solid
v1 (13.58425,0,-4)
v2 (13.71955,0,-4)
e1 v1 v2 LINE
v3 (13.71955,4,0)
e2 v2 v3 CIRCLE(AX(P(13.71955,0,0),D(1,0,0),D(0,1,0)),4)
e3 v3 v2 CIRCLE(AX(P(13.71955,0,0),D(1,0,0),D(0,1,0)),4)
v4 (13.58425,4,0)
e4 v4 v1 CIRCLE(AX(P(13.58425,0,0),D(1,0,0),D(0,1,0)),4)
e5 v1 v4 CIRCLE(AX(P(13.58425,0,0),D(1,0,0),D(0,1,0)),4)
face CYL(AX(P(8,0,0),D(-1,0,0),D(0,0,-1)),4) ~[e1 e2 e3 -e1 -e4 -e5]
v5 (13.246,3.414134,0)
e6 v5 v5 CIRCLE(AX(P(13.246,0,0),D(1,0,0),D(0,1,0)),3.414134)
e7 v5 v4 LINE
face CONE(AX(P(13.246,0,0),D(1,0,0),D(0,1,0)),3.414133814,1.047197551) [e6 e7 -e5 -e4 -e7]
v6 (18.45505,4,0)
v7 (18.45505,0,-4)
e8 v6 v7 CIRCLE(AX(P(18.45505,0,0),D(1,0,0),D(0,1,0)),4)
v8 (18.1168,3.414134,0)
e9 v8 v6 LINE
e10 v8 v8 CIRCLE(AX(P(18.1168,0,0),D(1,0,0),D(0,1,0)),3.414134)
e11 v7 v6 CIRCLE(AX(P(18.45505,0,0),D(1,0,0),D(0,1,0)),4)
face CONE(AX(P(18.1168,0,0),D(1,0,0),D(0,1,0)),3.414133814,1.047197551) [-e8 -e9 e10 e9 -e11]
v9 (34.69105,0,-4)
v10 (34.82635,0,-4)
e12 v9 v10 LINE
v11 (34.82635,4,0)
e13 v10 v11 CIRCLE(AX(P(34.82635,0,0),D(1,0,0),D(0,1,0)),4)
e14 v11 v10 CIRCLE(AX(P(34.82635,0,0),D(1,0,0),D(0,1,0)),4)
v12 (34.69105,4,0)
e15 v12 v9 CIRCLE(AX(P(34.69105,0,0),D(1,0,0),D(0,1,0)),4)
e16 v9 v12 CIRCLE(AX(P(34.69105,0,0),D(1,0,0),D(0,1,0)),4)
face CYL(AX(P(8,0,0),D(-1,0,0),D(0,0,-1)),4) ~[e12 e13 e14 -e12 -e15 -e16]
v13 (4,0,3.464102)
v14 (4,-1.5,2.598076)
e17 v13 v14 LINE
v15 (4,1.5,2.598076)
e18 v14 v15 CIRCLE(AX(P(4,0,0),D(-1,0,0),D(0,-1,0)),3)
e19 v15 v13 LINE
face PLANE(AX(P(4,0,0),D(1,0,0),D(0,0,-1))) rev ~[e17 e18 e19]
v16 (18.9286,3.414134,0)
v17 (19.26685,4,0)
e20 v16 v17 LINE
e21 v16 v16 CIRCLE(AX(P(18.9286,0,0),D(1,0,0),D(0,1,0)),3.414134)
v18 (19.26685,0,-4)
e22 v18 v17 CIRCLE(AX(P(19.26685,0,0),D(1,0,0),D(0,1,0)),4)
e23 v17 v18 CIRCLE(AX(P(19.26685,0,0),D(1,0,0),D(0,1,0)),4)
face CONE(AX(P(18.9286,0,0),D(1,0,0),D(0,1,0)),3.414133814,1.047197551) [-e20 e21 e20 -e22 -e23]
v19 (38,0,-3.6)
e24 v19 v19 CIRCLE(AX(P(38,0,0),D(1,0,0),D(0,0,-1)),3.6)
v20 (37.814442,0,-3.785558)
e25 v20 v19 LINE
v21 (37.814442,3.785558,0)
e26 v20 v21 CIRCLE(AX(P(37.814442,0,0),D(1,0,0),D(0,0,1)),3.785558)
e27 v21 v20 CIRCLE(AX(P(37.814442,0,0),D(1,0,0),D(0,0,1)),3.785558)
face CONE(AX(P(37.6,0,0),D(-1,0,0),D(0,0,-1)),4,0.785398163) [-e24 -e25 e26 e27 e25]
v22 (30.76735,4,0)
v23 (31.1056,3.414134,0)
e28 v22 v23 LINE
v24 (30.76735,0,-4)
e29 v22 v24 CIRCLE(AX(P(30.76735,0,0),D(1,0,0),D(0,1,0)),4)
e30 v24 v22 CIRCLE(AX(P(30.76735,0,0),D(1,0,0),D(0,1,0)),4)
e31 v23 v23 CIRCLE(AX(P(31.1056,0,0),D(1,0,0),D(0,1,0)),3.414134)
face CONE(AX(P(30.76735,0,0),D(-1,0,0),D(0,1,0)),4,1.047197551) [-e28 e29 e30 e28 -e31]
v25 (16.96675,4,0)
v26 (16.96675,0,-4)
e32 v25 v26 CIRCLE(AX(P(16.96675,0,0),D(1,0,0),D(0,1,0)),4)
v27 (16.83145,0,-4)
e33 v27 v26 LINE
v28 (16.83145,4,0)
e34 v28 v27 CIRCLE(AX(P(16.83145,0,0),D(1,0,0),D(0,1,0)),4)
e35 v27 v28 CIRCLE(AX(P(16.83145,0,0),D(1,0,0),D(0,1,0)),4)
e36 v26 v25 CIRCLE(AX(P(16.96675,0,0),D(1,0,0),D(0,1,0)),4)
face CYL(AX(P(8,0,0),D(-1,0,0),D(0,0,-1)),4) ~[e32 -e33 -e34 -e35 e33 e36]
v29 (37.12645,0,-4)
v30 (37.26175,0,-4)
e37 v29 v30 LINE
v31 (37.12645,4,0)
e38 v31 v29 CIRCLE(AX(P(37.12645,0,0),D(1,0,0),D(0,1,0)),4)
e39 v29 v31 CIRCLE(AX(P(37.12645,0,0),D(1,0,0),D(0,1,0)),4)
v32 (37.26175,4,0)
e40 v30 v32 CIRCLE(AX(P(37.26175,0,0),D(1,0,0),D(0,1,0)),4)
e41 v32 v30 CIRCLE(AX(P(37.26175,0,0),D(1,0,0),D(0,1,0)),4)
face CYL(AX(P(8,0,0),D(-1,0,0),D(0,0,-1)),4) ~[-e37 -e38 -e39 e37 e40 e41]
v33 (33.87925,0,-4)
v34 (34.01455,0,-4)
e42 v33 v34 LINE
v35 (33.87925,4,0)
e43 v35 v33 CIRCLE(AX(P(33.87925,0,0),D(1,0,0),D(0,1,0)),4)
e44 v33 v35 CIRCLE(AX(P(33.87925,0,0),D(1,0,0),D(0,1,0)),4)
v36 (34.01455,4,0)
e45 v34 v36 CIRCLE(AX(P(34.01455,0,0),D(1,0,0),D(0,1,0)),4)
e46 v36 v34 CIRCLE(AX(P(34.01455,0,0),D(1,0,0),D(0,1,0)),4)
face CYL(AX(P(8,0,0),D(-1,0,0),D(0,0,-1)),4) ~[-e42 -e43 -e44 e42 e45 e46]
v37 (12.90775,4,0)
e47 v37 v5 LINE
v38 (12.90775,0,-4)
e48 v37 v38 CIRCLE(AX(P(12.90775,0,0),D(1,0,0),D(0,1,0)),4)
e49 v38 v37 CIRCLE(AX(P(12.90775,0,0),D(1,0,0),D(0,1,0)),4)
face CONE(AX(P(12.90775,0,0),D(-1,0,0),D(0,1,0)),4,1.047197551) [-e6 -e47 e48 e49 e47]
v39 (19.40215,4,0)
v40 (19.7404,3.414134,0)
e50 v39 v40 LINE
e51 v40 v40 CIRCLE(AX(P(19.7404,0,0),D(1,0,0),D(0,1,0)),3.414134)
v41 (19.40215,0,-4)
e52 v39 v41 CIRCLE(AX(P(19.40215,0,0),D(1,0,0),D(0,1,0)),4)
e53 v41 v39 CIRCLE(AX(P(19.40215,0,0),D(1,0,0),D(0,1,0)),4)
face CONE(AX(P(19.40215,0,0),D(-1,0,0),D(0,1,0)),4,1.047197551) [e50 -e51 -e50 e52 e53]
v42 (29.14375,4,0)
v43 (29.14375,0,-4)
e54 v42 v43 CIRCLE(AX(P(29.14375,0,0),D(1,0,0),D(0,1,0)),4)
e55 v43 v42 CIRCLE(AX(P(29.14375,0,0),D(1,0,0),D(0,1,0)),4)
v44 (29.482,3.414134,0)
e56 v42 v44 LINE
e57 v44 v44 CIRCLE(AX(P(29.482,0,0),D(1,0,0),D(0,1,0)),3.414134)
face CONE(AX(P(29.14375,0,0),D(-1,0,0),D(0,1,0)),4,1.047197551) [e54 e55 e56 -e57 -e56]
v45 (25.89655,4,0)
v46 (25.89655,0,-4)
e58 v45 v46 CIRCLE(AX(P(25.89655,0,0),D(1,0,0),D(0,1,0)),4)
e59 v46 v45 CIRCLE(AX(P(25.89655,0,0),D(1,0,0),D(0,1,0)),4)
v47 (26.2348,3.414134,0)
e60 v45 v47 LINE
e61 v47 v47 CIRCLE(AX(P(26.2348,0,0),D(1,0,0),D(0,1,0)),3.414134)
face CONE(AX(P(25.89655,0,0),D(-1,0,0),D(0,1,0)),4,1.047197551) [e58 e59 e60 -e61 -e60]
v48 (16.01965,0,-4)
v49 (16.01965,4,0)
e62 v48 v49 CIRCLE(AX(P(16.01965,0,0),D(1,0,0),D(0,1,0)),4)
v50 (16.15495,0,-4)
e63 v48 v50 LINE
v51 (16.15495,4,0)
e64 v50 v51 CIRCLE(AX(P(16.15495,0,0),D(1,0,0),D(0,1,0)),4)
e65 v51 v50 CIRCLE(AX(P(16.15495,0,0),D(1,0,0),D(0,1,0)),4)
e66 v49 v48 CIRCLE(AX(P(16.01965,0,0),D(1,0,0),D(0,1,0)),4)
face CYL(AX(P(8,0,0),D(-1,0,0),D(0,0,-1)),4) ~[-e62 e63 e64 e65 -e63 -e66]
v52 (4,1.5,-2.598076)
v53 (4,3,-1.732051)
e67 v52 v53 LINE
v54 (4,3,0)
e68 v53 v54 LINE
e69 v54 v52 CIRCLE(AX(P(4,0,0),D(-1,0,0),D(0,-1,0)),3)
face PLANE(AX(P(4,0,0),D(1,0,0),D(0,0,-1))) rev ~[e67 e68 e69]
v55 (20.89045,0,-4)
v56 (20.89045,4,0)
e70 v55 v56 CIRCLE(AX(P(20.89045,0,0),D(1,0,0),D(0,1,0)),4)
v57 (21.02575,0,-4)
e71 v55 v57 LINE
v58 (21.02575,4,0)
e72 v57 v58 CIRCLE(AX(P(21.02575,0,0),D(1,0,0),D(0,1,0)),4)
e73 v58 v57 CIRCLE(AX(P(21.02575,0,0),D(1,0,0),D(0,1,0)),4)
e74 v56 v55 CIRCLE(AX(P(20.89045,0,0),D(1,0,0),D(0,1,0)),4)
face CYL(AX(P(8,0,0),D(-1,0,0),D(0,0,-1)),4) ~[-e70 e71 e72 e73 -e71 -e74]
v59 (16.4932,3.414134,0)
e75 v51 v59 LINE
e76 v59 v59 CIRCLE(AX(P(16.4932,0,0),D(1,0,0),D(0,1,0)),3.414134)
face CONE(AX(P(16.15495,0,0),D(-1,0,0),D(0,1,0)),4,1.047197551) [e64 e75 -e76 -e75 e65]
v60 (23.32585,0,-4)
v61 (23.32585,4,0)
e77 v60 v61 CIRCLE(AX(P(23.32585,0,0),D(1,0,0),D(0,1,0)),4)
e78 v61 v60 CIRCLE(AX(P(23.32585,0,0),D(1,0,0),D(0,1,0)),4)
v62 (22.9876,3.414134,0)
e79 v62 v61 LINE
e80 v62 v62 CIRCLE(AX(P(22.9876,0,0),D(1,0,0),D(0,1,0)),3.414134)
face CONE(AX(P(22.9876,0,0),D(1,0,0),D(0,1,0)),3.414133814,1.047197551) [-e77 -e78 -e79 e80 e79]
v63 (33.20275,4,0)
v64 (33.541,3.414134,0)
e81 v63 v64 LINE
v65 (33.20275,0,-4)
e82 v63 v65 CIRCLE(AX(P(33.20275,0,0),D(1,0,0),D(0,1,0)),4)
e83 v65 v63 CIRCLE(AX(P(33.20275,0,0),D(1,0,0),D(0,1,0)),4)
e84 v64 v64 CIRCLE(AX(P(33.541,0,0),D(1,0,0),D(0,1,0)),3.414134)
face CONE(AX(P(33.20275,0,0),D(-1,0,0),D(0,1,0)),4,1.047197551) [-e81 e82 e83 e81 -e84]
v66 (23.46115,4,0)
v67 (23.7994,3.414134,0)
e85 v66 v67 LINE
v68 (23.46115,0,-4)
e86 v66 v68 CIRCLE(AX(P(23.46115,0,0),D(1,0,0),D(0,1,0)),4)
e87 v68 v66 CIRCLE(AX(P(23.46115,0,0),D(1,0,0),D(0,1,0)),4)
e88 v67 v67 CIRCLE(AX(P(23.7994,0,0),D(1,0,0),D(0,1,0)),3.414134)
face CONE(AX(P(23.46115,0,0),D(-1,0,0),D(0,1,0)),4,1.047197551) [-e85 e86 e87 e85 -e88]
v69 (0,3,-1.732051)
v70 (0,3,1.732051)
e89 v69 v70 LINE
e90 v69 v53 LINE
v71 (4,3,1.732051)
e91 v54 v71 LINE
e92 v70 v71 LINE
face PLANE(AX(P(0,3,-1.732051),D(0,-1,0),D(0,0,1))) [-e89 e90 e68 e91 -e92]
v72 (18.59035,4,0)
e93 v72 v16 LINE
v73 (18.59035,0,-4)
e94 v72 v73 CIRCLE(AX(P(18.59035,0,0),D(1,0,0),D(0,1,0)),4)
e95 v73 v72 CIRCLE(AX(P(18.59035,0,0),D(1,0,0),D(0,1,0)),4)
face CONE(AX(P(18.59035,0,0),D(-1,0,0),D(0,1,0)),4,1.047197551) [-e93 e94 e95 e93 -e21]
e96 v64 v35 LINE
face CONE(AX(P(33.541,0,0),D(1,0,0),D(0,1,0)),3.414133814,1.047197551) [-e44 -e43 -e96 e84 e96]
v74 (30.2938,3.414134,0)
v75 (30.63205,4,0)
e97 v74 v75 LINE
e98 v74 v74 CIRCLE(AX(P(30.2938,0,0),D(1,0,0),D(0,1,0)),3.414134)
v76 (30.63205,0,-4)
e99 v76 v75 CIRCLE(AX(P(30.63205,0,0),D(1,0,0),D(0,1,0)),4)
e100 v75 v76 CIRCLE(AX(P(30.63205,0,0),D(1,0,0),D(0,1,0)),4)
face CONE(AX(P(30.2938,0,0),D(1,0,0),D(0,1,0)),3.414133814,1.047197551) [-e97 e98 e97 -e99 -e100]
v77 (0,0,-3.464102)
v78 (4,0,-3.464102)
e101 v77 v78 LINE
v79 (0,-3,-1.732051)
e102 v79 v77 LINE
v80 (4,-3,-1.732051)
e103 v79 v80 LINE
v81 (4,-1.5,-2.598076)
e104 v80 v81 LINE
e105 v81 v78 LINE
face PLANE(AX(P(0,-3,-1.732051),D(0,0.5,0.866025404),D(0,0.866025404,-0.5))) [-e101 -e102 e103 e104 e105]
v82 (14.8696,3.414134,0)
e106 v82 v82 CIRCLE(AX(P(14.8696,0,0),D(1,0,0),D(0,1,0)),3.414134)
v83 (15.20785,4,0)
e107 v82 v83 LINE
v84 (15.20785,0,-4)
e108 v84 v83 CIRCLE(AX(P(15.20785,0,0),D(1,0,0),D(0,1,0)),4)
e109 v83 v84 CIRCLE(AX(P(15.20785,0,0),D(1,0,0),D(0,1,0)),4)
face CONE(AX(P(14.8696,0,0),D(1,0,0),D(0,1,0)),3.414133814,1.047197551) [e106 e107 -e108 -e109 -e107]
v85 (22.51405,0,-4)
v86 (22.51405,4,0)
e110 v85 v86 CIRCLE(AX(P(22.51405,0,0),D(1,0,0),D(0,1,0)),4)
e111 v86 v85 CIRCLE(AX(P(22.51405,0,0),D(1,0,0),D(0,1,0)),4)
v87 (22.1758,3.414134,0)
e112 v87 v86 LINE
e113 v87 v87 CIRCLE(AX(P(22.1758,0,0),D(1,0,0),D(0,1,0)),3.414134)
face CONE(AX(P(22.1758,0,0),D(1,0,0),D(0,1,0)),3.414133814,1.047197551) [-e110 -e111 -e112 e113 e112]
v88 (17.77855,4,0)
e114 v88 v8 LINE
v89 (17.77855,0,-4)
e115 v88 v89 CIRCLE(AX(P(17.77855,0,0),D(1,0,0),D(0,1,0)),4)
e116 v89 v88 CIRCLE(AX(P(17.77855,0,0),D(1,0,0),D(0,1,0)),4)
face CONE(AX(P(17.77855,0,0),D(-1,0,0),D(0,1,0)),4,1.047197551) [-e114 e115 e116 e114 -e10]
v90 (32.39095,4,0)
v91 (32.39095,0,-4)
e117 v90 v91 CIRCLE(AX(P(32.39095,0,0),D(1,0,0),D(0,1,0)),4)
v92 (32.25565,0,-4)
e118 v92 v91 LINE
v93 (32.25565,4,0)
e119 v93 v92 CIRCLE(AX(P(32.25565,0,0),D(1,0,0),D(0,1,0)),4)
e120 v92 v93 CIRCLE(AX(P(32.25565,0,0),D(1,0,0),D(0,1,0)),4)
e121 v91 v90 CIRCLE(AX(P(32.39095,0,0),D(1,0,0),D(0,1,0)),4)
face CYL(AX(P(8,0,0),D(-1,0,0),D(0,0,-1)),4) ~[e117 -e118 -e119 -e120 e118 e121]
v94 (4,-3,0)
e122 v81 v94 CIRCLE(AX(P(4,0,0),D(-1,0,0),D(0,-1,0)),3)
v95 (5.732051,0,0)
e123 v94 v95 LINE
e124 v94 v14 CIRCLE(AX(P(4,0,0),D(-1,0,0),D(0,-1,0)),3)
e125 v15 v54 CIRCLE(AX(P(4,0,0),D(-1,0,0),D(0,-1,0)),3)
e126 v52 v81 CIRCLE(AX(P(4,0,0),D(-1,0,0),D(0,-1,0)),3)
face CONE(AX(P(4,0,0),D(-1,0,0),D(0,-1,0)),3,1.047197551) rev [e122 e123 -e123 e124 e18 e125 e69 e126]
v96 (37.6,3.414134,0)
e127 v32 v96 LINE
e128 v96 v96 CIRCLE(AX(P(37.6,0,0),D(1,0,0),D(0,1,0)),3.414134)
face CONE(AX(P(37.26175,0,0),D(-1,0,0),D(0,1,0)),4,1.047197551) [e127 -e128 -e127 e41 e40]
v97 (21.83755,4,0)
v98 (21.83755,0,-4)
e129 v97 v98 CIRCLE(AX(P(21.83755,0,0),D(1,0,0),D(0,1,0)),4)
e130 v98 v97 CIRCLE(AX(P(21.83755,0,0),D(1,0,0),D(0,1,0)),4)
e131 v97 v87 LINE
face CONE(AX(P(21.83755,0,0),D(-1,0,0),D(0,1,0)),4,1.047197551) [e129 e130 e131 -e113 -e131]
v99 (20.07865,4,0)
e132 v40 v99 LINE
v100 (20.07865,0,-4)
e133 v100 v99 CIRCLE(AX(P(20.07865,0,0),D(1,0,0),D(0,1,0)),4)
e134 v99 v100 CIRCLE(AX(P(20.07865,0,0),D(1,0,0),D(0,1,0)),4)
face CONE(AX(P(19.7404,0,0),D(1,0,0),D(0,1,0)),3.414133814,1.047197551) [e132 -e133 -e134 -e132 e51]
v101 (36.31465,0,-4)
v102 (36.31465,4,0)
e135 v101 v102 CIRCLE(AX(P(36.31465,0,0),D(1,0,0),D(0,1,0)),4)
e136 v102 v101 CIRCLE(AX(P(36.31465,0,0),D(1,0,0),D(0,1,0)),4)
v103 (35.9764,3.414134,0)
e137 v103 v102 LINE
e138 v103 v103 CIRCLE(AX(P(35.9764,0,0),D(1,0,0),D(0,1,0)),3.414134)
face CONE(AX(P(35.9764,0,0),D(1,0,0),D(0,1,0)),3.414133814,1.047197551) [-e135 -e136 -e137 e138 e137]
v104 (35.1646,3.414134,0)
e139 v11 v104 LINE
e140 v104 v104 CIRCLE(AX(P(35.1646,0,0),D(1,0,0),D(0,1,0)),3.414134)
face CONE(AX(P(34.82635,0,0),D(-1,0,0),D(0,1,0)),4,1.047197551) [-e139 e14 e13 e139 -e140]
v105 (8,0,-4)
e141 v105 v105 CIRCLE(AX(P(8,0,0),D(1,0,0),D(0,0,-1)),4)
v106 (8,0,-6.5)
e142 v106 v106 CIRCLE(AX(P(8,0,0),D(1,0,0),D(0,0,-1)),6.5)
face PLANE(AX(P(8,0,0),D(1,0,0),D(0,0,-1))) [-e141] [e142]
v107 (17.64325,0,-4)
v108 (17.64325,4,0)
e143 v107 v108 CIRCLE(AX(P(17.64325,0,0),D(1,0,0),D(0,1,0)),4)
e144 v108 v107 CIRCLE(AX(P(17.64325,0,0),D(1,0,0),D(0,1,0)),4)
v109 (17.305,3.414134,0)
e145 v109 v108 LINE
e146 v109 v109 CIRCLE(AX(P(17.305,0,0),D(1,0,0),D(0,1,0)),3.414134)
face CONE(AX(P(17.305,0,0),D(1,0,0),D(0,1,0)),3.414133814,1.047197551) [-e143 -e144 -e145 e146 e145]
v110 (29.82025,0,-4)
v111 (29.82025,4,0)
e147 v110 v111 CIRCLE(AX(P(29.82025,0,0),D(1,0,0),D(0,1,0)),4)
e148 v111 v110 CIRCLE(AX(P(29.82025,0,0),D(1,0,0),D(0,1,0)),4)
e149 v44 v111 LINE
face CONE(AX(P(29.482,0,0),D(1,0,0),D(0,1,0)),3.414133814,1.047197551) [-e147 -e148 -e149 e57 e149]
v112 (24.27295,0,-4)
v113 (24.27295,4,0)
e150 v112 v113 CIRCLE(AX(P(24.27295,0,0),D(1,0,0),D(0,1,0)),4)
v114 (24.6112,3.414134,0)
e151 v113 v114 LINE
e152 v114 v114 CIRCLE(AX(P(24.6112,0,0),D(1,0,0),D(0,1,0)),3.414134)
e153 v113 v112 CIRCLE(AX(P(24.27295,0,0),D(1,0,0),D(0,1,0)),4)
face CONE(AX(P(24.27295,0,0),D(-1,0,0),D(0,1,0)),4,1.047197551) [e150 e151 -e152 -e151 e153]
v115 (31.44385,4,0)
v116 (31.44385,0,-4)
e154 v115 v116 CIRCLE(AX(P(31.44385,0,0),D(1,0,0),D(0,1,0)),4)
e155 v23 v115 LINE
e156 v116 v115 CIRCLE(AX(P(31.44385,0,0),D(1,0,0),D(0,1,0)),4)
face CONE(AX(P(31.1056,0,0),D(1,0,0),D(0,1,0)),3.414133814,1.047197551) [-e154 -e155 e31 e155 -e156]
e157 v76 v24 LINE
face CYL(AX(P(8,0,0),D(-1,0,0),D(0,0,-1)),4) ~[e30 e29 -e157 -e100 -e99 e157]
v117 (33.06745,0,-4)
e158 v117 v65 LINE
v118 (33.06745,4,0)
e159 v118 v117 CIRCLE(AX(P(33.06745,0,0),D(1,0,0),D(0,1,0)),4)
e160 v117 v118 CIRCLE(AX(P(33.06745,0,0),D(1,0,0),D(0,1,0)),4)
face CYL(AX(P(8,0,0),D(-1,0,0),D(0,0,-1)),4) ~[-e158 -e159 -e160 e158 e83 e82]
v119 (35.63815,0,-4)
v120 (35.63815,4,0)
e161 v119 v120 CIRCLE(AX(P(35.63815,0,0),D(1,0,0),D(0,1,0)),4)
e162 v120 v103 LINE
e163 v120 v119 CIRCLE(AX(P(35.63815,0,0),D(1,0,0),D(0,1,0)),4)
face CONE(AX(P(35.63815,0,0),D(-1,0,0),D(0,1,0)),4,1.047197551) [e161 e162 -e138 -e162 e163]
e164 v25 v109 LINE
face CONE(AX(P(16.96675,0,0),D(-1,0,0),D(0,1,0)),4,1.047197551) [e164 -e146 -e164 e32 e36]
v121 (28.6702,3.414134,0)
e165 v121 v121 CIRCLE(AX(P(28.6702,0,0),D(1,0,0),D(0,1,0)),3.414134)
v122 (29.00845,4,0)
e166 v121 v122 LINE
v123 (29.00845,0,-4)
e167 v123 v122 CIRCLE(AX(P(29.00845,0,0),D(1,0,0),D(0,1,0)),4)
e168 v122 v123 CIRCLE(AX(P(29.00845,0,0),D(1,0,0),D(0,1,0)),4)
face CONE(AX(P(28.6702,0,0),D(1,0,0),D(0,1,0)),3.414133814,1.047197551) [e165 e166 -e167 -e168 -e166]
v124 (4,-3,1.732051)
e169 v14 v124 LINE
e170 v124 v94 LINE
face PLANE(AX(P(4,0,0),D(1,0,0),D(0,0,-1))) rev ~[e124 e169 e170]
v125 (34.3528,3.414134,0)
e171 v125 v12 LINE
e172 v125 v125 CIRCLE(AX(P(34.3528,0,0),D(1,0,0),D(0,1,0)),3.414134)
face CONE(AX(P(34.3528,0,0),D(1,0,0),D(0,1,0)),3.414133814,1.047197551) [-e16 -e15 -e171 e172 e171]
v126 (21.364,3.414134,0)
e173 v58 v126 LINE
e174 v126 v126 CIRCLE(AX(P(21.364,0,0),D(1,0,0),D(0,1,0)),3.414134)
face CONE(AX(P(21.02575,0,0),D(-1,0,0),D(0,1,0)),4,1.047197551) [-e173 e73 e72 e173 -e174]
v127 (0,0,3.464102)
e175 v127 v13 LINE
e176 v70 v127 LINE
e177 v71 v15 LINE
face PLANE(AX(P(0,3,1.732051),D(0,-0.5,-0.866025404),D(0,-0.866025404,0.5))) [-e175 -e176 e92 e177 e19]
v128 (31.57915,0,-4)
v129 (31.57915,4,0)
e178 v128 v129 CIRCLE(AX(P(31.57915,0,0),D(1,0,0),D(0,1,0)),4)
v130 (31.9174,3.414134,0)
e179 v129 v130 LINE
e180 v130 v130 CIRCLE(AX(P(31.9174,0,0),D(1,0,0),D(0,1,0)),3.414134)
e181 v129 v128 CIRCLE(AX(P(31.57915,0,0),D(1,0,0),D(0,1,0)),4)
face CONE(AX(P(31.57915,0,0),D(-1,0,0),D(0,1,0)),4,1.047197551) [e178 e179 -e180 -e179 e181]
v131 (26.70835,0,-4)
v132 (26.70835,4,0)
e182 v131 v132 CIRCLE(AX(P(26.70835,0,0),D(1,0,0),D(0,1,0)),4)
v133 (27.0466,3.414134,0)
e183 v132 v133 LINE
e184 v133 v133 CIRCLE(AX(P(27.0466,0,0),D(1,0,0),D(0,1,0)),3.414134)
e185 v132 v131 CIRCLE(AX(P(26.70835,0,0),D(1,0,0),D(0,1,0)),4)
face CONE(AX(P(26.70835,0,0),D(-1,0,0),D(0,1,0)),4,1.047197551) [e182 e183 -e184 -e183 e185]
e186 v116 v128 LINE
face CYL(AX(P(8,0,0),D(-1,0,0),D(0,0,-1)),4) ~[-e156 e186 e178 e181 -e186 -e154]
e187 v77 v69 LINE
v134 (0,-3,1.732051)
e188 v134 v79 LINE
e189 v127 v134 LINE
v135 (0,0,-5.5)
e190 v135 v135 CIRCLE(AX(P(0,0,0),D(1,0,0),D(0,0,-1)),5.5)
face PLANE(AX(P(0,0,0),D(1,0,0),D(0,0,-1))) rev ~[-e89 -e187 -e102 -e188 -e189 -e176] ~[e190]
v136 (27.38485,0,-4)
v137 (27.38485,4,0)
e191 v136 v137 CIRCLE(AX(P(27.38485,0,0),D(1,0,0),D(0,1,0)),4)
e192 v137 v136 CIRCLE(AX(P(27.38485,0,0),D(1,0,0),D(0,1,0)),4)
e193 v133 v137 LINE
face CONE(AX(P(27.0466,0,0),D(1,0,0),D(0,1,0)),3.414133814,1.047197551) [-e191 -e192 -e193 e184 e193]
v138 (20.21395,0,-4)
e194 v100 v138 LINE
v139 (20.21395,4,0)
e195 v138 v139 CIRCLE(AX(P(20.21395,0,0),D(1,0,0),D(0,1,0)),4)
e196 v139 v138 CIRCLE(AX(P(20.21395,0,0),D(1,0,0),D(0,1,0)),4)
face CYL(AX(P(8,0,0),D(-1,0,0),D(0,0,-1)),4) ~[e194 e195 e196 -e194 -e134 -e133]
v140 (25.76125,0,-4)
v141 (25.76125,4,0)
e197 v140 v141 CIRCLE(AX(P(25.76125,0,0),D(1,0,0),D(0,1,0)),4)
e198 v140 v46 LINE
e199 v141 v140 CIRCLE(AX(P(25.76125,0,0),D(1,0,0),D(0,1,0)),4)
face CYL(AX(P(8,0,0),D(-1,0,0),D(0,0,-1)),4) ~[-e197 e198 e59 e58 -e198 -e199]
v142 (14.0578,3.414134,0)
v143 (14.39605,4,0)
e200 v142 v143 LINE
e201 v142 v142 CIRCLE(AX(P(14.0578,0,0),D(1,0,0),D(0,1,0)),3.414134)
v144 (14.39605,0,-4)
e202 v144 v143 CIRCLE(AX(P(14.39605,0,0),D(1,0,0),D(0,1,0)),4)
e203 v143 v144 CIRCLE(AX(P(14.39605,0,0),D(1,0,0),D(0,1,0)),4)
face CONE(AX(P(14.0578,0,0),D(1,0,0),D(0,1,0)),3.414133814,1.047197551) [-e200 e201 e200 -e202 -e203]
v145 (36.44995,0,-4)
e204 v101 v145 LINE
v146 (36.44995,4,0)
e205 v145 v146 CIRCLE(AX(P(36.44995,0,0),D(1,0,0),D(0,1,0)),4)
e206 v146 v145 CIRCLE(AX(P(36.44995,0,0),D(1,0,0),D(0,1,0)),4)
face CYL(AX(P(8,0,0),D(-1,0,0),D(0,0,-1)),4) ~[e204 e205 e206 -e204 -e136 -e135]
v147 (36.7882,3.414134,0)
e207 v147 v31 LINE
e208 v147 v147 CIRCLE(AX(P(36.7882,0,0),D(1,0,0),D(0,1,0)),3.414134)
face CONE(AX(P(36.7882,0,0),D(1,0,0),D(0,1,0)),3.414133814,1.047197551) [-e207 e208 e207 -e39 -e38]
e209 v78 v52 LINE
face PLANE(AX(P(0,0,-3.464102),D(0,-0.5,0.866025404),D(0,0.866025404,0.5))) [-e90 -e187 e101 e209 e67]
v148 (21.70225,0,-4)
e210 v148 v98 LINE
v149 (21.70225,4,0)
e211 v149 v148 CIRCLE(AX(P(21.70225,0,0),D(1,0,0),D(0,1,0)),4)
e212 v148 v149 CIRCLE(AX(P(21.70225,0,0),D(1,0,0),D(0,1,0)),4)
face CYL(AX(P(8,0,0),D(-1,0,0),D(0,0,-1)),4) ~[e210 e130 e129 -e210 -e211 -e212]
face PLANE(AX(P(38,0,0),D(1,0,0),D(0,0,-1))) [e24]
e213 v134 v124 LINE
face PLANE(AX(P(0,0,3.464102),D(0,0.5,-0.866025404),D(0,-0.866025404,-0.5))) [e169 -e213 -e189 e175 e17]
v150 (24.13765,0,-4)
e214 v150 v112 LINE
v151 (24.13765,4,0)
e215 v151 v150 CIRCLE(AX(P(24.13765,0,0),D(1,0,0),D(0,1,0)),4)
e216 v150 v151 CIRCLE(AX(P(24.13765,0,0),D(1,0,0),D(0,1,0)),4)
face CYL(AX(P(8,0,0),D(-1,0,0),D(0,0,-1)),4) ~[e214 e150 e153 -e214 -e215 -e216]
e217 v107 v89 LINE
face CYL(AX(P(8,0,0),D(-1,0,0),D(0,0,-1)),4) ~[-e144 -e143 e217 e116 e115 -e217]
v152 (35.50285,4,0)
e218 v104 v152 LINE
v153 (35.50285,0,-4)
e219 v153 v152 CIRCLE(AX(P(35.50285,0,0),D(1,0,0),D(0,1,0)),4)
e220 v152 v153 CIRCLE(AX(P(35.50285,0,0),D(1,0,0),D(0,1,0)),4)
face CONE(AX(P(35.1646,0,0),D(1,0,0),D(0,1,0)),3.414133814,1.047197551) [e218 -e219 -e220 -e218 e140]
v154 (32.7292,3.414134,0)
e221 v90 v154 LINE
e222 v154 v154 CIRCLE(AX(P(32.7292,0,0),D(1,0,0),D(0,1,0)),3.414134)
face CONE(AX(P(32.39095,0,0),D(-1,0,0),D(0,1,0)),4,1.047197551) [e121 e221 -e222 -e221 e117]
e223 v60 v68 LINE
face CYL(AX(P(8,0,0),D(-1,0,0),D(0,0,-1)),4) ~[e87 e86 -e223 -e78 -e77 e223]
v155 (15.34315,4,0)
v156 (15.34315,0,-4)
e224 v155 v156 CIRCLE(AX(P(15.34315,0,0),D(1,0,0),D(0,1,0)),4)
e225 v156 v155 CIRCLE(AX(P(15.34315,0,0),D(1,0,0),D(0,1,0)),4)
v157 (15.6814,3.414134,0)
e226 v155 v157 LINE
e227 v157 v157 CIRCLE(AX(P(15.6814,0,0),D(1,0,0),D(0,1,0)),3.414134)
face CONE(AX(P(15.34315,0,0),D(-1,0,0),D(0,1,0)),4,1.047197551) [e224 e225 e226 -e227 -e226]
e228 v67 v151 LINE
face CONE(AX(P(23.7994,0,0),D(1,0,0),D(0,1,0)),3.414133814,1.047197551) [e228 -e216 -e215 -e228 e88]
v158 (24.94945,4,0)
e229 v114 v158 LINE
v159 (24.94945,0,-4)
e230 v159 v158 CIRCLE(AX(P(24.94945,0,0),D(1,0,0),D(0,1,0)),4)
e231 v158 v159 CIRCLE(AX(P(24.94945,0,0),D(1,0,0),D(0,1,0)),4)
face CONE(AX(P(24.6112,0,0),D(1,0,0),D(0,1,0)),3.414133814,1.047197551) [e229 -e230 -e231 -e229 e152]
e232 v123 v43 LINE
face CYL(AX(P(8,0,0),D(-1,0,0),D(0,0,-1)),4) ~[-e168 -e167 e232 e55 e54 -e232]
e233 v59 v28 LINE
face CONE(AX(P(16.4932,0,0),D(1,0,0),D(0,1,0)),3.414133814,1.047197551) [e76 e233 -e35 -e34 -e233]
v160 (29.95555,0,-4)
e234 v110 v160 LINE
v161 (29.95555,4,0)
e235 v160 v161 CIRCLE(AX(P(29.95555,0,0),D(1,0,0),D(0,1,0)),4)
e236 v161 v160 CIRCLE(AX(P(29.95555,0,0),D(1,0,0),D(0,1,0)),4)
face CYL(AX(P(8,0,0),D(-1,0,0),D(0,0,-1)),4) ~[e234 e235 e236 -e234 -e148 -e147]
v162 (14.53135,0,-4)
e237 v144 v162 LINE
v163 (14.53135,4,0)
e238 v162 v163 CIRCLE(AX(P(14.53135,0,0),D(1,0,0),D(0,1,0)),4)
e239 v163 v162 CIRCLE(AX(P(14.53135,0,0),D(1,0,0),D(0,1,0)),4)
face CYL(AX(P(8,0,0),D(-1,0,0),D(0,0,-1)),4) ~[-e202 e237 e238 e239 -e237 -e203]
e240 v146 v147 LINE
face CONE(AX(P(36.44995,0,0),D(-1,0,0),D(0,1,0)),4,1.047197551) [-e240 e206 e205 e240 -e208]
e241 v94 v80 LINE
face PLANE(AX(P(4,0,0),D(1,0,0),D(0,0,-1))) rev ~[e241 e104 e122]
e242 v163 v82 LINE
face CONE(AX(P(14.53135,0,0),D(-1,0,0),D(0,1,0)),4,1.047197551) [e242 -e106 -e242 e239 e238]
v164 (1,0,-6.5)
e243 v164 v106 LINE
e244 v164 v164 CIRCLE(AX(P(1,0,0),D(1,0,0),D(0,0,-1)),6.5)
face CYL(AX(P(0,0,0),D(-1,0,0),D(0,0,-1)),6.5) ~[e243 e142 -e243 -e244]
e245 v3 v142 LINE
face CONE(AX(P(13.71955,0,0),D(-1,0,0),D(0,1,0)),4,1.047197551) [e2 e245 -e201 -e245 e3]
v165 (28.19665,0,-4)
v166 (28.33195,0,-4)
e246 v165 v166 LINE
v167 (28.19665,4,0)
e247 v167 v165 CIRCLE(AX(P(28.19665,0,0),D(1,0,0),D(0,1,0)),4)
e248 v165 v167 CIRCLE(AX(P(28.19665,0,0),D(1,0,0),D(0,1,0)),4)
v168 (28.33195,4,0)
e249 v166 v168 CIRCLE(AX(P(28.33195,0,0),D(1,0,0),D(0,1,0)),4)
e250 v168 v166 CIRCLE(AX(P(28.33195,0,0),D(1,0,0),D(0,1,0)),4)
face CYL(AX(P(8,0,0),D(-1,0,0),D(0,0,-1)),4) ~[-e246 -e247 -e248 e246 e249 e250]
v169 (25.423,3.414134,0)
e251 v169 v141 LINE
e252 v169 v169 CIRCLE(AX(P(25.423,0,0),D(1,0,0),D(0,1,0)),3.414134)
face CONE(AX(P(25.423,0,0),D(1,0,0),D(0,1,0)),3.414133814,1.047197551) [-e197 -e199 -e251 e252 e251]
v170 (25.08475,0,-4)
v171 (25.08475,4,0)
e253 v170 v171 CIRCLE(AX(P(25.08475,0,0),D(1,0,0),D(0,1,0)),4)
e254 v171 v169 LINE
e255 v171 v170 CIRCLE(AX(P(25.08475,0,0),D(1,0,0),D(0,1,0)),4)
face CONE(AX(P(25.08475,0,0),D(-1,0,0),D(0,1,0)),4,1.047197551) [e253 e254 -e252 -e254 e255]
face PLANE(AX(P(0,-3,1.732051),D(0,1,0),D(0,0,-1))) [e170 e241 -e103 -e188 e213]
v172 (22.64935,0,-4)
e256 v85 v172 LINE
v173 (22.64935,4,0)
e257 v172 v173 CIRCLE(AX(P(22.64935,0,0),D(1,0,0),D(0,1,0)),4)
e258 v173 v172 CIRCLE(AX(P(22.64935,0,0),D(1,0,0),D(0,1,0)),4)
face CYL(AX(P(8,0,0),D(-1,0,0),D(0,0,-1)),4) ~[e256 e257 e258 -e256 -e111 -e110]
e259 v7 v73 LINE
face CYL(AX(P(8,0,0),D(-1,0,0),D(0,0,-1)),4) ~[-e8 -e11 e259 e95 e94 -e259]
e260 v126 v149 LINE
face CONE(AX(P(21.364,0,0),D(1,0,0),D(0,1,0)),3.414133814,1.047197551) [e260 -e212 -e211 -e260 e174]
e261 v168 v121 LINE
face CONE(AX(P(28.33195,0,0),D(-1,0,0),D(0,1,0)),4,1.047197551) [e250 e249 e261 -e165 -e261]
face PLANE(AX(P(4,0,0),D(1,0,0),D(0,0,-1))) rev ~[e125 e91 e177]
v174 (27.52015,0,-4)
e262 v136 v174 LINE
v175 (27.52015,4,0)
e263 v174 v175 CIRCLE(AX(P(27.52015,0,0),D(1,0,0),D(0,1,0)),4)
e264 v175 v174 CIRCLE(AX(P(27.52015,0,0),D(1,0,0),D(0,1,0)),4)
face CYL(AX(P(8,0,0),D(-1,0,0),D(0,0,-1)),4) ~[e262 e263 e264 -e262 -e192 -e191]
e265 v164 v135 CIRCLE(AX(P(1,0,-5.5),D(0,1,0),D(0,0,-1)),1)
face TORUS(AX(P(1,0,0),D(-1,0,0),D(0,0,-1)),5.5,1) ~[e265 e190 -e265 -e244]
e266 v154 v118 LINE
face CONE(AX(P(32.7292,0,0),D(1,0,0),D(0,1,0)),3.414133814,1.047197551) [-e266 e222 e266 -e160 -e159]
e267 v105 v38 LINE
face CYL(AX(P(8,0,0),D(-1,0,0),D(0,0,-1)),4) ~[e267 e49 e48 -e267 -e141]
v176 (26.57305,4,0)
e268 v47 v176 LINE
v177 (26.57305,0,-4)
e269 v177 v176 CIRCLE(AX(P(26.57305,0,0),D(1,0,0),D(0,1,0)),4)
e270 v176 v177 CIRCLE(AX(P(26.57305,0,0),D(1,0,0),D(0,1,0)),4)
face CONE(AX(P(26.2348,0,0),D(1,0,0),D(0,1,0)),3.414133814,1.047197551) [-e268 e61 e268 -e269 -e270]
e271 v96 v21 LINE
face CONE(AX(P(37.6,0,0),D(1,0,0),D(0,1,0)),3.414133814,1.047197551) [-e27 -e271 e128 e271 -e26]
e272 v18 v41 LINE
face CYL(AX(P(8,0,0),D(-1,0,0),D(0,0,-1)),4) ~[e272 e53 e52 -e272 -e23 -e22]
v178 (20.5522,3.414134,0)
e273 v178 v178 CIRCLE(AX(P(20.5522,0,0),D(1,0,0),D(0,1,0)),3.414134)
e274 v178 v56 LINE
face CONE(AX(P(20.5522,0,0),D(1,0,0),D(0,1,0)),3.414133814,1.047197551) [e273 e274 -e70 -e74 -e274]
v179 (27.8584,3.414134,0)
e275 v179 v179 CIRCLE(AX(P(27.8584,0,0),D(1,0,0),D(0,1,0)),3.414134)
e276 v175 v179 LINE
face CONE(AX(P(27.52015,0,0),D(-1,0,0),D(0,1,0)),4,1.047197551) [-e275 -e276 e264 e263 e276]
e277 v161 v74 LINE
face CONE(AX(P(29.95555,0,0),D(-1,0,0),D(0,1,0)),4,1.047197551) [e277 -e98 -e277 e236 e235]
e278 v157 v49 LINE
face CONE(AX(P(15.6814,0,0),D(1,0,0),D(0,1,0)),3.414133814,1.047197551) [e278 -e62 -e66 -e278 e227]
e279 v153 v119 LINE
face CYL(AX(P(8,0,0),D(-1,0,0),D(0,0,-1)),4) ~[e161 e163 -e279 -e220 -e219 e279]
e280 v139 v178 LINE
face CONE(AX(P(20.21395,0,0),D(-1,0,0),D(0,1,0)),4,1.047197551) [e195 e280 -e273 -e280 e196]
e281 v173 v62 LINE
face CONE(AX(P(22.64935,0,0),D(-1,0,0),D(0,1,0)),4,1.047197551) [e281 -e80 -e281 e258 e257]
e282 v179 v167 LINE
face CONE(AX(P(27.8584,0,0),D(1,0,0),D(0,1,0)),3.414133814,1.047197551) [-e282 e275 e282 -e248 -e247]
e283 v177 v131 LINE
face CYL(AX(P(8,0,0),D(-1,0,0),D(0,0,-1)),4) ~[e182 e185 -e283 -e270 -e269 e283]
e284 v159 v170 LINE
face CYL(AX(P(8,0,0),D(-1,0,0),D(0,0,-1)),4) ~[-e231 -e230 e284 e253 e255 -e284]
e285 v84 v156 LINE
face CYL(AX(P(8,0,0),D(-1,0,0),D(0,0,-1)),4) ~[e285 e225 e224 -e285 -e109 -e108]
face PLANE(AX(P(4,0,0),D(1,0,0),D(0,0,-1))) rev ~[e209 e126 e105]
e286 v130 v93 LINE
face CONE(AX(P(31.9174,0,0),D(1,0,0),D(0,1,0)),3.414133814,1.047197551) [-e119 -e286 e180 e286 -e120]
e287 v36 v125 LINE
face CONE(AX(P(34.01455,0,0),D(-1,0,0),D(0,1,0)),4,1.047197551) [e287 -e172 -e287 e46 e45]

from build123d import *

# Parameters (mm, degrees)
SKETCH1_R           = 6.5
BASEHEAD_DEPTH      = 8
SKETCH2_R           = 4
BASEBODY_DEPTH      = 30
HEXAGONSOCKET_DEPTH = 4
TOPFILLET_R         = 1
CHAMFER1_SIZE       = 0.4
LPATTERN10_COUNT    = 31
LPATTERN10_PITCH    = 0.8118


with BuildPart() as part:
    # Sketch1 → BaseHead (new body)
    with BuildSketch(Plane(origin=(0, 0, 0), x_dir=(0, 0, -1), z_dir=(1, 0, 0))):
        Circle(SKETCH1_R)
    extrude(amount=BASEHEAD_DEPTH)

    # Sketch2 → BaseBody (add)
    with BuildSketch(Plane(origin=(8, 0, 0), x_dir=(0, 0, -1), z_dir=(1, 0, 0))):
        Circle(SKETCH2_R)
    extrude(amount=BASEBODY_DEPTH)

    # Sketch3 → HexagonSocket (cut)
    with BuildSketch(Plane(origin=(0, 0, 0), x_dir=(0, 0, -1), z_dir=(1, 0, 0))):
        Polygon((3.464101615, 0), (1.732050808, 3), (-1.732050808, 3), (-3.464101615, 0), (-1.732050808, -3), (1.732050808, -3), align=None)
    extrude(amount=HEXAGONSOCKET_DEPTH, mode=Mode.SUBTRACT)

    # Sketch4 → Cut-Revolve1 (revolve, cut)
    with BuildSketch(Plane(origin=(-4.19613823, 0.75, 0), x_dir=(-1, 0, 0), z_dir=(0, 0, 1))):
        Polygon((-8.19613823, 3.75), (-9.928189037, 0.75), (-8.19613823, 0.75), align=None)
    revolve(axis=Axis((0.838992387, 0, 0), (-1, 0, 0)), mode=Mode.SUBTRACT)

    # TopFillet
    topfillet_edges = [part.edges().sort_by_distance(p)[0] for p in [
        (0, 0, 6.5),
    ]]
    fillet(topfillet_edges, radius=TOPFILLET_R)

    # Chamfer1
    chamfer1_edges = [part.edges().sort_by_distance(p)[0] for p in [
        (38, 0, 4),
    ]]
    chamfer(chamfer1_edges, length=CHAMFER1_SIZE)

    # Sketch5 → Cut-Revolve10 (revolve, cut)
    with BuildSketch(Plane.XY):
        Polygon((37.6, 3.414133814), (37.93825, 4), (37.93825, 4.6765), (37.26175, 4.6765), (37.26175, 4), align=None)
    cut_revolve10 = revolve(axis=Axis((0, 0, 0), (1, 0, 0)), mode=Mode.SUBTRACT)

    # LPattern10: Cut-Revolve10 ×31
    with Locations(*[(-i * LPATTERN10_PITCH, 0, 0) for i in range(1, LPATTERN10_COUNT)]):
        add(cut_revolve10, mode=Mode.SUBTRACT)


solid = part.part
